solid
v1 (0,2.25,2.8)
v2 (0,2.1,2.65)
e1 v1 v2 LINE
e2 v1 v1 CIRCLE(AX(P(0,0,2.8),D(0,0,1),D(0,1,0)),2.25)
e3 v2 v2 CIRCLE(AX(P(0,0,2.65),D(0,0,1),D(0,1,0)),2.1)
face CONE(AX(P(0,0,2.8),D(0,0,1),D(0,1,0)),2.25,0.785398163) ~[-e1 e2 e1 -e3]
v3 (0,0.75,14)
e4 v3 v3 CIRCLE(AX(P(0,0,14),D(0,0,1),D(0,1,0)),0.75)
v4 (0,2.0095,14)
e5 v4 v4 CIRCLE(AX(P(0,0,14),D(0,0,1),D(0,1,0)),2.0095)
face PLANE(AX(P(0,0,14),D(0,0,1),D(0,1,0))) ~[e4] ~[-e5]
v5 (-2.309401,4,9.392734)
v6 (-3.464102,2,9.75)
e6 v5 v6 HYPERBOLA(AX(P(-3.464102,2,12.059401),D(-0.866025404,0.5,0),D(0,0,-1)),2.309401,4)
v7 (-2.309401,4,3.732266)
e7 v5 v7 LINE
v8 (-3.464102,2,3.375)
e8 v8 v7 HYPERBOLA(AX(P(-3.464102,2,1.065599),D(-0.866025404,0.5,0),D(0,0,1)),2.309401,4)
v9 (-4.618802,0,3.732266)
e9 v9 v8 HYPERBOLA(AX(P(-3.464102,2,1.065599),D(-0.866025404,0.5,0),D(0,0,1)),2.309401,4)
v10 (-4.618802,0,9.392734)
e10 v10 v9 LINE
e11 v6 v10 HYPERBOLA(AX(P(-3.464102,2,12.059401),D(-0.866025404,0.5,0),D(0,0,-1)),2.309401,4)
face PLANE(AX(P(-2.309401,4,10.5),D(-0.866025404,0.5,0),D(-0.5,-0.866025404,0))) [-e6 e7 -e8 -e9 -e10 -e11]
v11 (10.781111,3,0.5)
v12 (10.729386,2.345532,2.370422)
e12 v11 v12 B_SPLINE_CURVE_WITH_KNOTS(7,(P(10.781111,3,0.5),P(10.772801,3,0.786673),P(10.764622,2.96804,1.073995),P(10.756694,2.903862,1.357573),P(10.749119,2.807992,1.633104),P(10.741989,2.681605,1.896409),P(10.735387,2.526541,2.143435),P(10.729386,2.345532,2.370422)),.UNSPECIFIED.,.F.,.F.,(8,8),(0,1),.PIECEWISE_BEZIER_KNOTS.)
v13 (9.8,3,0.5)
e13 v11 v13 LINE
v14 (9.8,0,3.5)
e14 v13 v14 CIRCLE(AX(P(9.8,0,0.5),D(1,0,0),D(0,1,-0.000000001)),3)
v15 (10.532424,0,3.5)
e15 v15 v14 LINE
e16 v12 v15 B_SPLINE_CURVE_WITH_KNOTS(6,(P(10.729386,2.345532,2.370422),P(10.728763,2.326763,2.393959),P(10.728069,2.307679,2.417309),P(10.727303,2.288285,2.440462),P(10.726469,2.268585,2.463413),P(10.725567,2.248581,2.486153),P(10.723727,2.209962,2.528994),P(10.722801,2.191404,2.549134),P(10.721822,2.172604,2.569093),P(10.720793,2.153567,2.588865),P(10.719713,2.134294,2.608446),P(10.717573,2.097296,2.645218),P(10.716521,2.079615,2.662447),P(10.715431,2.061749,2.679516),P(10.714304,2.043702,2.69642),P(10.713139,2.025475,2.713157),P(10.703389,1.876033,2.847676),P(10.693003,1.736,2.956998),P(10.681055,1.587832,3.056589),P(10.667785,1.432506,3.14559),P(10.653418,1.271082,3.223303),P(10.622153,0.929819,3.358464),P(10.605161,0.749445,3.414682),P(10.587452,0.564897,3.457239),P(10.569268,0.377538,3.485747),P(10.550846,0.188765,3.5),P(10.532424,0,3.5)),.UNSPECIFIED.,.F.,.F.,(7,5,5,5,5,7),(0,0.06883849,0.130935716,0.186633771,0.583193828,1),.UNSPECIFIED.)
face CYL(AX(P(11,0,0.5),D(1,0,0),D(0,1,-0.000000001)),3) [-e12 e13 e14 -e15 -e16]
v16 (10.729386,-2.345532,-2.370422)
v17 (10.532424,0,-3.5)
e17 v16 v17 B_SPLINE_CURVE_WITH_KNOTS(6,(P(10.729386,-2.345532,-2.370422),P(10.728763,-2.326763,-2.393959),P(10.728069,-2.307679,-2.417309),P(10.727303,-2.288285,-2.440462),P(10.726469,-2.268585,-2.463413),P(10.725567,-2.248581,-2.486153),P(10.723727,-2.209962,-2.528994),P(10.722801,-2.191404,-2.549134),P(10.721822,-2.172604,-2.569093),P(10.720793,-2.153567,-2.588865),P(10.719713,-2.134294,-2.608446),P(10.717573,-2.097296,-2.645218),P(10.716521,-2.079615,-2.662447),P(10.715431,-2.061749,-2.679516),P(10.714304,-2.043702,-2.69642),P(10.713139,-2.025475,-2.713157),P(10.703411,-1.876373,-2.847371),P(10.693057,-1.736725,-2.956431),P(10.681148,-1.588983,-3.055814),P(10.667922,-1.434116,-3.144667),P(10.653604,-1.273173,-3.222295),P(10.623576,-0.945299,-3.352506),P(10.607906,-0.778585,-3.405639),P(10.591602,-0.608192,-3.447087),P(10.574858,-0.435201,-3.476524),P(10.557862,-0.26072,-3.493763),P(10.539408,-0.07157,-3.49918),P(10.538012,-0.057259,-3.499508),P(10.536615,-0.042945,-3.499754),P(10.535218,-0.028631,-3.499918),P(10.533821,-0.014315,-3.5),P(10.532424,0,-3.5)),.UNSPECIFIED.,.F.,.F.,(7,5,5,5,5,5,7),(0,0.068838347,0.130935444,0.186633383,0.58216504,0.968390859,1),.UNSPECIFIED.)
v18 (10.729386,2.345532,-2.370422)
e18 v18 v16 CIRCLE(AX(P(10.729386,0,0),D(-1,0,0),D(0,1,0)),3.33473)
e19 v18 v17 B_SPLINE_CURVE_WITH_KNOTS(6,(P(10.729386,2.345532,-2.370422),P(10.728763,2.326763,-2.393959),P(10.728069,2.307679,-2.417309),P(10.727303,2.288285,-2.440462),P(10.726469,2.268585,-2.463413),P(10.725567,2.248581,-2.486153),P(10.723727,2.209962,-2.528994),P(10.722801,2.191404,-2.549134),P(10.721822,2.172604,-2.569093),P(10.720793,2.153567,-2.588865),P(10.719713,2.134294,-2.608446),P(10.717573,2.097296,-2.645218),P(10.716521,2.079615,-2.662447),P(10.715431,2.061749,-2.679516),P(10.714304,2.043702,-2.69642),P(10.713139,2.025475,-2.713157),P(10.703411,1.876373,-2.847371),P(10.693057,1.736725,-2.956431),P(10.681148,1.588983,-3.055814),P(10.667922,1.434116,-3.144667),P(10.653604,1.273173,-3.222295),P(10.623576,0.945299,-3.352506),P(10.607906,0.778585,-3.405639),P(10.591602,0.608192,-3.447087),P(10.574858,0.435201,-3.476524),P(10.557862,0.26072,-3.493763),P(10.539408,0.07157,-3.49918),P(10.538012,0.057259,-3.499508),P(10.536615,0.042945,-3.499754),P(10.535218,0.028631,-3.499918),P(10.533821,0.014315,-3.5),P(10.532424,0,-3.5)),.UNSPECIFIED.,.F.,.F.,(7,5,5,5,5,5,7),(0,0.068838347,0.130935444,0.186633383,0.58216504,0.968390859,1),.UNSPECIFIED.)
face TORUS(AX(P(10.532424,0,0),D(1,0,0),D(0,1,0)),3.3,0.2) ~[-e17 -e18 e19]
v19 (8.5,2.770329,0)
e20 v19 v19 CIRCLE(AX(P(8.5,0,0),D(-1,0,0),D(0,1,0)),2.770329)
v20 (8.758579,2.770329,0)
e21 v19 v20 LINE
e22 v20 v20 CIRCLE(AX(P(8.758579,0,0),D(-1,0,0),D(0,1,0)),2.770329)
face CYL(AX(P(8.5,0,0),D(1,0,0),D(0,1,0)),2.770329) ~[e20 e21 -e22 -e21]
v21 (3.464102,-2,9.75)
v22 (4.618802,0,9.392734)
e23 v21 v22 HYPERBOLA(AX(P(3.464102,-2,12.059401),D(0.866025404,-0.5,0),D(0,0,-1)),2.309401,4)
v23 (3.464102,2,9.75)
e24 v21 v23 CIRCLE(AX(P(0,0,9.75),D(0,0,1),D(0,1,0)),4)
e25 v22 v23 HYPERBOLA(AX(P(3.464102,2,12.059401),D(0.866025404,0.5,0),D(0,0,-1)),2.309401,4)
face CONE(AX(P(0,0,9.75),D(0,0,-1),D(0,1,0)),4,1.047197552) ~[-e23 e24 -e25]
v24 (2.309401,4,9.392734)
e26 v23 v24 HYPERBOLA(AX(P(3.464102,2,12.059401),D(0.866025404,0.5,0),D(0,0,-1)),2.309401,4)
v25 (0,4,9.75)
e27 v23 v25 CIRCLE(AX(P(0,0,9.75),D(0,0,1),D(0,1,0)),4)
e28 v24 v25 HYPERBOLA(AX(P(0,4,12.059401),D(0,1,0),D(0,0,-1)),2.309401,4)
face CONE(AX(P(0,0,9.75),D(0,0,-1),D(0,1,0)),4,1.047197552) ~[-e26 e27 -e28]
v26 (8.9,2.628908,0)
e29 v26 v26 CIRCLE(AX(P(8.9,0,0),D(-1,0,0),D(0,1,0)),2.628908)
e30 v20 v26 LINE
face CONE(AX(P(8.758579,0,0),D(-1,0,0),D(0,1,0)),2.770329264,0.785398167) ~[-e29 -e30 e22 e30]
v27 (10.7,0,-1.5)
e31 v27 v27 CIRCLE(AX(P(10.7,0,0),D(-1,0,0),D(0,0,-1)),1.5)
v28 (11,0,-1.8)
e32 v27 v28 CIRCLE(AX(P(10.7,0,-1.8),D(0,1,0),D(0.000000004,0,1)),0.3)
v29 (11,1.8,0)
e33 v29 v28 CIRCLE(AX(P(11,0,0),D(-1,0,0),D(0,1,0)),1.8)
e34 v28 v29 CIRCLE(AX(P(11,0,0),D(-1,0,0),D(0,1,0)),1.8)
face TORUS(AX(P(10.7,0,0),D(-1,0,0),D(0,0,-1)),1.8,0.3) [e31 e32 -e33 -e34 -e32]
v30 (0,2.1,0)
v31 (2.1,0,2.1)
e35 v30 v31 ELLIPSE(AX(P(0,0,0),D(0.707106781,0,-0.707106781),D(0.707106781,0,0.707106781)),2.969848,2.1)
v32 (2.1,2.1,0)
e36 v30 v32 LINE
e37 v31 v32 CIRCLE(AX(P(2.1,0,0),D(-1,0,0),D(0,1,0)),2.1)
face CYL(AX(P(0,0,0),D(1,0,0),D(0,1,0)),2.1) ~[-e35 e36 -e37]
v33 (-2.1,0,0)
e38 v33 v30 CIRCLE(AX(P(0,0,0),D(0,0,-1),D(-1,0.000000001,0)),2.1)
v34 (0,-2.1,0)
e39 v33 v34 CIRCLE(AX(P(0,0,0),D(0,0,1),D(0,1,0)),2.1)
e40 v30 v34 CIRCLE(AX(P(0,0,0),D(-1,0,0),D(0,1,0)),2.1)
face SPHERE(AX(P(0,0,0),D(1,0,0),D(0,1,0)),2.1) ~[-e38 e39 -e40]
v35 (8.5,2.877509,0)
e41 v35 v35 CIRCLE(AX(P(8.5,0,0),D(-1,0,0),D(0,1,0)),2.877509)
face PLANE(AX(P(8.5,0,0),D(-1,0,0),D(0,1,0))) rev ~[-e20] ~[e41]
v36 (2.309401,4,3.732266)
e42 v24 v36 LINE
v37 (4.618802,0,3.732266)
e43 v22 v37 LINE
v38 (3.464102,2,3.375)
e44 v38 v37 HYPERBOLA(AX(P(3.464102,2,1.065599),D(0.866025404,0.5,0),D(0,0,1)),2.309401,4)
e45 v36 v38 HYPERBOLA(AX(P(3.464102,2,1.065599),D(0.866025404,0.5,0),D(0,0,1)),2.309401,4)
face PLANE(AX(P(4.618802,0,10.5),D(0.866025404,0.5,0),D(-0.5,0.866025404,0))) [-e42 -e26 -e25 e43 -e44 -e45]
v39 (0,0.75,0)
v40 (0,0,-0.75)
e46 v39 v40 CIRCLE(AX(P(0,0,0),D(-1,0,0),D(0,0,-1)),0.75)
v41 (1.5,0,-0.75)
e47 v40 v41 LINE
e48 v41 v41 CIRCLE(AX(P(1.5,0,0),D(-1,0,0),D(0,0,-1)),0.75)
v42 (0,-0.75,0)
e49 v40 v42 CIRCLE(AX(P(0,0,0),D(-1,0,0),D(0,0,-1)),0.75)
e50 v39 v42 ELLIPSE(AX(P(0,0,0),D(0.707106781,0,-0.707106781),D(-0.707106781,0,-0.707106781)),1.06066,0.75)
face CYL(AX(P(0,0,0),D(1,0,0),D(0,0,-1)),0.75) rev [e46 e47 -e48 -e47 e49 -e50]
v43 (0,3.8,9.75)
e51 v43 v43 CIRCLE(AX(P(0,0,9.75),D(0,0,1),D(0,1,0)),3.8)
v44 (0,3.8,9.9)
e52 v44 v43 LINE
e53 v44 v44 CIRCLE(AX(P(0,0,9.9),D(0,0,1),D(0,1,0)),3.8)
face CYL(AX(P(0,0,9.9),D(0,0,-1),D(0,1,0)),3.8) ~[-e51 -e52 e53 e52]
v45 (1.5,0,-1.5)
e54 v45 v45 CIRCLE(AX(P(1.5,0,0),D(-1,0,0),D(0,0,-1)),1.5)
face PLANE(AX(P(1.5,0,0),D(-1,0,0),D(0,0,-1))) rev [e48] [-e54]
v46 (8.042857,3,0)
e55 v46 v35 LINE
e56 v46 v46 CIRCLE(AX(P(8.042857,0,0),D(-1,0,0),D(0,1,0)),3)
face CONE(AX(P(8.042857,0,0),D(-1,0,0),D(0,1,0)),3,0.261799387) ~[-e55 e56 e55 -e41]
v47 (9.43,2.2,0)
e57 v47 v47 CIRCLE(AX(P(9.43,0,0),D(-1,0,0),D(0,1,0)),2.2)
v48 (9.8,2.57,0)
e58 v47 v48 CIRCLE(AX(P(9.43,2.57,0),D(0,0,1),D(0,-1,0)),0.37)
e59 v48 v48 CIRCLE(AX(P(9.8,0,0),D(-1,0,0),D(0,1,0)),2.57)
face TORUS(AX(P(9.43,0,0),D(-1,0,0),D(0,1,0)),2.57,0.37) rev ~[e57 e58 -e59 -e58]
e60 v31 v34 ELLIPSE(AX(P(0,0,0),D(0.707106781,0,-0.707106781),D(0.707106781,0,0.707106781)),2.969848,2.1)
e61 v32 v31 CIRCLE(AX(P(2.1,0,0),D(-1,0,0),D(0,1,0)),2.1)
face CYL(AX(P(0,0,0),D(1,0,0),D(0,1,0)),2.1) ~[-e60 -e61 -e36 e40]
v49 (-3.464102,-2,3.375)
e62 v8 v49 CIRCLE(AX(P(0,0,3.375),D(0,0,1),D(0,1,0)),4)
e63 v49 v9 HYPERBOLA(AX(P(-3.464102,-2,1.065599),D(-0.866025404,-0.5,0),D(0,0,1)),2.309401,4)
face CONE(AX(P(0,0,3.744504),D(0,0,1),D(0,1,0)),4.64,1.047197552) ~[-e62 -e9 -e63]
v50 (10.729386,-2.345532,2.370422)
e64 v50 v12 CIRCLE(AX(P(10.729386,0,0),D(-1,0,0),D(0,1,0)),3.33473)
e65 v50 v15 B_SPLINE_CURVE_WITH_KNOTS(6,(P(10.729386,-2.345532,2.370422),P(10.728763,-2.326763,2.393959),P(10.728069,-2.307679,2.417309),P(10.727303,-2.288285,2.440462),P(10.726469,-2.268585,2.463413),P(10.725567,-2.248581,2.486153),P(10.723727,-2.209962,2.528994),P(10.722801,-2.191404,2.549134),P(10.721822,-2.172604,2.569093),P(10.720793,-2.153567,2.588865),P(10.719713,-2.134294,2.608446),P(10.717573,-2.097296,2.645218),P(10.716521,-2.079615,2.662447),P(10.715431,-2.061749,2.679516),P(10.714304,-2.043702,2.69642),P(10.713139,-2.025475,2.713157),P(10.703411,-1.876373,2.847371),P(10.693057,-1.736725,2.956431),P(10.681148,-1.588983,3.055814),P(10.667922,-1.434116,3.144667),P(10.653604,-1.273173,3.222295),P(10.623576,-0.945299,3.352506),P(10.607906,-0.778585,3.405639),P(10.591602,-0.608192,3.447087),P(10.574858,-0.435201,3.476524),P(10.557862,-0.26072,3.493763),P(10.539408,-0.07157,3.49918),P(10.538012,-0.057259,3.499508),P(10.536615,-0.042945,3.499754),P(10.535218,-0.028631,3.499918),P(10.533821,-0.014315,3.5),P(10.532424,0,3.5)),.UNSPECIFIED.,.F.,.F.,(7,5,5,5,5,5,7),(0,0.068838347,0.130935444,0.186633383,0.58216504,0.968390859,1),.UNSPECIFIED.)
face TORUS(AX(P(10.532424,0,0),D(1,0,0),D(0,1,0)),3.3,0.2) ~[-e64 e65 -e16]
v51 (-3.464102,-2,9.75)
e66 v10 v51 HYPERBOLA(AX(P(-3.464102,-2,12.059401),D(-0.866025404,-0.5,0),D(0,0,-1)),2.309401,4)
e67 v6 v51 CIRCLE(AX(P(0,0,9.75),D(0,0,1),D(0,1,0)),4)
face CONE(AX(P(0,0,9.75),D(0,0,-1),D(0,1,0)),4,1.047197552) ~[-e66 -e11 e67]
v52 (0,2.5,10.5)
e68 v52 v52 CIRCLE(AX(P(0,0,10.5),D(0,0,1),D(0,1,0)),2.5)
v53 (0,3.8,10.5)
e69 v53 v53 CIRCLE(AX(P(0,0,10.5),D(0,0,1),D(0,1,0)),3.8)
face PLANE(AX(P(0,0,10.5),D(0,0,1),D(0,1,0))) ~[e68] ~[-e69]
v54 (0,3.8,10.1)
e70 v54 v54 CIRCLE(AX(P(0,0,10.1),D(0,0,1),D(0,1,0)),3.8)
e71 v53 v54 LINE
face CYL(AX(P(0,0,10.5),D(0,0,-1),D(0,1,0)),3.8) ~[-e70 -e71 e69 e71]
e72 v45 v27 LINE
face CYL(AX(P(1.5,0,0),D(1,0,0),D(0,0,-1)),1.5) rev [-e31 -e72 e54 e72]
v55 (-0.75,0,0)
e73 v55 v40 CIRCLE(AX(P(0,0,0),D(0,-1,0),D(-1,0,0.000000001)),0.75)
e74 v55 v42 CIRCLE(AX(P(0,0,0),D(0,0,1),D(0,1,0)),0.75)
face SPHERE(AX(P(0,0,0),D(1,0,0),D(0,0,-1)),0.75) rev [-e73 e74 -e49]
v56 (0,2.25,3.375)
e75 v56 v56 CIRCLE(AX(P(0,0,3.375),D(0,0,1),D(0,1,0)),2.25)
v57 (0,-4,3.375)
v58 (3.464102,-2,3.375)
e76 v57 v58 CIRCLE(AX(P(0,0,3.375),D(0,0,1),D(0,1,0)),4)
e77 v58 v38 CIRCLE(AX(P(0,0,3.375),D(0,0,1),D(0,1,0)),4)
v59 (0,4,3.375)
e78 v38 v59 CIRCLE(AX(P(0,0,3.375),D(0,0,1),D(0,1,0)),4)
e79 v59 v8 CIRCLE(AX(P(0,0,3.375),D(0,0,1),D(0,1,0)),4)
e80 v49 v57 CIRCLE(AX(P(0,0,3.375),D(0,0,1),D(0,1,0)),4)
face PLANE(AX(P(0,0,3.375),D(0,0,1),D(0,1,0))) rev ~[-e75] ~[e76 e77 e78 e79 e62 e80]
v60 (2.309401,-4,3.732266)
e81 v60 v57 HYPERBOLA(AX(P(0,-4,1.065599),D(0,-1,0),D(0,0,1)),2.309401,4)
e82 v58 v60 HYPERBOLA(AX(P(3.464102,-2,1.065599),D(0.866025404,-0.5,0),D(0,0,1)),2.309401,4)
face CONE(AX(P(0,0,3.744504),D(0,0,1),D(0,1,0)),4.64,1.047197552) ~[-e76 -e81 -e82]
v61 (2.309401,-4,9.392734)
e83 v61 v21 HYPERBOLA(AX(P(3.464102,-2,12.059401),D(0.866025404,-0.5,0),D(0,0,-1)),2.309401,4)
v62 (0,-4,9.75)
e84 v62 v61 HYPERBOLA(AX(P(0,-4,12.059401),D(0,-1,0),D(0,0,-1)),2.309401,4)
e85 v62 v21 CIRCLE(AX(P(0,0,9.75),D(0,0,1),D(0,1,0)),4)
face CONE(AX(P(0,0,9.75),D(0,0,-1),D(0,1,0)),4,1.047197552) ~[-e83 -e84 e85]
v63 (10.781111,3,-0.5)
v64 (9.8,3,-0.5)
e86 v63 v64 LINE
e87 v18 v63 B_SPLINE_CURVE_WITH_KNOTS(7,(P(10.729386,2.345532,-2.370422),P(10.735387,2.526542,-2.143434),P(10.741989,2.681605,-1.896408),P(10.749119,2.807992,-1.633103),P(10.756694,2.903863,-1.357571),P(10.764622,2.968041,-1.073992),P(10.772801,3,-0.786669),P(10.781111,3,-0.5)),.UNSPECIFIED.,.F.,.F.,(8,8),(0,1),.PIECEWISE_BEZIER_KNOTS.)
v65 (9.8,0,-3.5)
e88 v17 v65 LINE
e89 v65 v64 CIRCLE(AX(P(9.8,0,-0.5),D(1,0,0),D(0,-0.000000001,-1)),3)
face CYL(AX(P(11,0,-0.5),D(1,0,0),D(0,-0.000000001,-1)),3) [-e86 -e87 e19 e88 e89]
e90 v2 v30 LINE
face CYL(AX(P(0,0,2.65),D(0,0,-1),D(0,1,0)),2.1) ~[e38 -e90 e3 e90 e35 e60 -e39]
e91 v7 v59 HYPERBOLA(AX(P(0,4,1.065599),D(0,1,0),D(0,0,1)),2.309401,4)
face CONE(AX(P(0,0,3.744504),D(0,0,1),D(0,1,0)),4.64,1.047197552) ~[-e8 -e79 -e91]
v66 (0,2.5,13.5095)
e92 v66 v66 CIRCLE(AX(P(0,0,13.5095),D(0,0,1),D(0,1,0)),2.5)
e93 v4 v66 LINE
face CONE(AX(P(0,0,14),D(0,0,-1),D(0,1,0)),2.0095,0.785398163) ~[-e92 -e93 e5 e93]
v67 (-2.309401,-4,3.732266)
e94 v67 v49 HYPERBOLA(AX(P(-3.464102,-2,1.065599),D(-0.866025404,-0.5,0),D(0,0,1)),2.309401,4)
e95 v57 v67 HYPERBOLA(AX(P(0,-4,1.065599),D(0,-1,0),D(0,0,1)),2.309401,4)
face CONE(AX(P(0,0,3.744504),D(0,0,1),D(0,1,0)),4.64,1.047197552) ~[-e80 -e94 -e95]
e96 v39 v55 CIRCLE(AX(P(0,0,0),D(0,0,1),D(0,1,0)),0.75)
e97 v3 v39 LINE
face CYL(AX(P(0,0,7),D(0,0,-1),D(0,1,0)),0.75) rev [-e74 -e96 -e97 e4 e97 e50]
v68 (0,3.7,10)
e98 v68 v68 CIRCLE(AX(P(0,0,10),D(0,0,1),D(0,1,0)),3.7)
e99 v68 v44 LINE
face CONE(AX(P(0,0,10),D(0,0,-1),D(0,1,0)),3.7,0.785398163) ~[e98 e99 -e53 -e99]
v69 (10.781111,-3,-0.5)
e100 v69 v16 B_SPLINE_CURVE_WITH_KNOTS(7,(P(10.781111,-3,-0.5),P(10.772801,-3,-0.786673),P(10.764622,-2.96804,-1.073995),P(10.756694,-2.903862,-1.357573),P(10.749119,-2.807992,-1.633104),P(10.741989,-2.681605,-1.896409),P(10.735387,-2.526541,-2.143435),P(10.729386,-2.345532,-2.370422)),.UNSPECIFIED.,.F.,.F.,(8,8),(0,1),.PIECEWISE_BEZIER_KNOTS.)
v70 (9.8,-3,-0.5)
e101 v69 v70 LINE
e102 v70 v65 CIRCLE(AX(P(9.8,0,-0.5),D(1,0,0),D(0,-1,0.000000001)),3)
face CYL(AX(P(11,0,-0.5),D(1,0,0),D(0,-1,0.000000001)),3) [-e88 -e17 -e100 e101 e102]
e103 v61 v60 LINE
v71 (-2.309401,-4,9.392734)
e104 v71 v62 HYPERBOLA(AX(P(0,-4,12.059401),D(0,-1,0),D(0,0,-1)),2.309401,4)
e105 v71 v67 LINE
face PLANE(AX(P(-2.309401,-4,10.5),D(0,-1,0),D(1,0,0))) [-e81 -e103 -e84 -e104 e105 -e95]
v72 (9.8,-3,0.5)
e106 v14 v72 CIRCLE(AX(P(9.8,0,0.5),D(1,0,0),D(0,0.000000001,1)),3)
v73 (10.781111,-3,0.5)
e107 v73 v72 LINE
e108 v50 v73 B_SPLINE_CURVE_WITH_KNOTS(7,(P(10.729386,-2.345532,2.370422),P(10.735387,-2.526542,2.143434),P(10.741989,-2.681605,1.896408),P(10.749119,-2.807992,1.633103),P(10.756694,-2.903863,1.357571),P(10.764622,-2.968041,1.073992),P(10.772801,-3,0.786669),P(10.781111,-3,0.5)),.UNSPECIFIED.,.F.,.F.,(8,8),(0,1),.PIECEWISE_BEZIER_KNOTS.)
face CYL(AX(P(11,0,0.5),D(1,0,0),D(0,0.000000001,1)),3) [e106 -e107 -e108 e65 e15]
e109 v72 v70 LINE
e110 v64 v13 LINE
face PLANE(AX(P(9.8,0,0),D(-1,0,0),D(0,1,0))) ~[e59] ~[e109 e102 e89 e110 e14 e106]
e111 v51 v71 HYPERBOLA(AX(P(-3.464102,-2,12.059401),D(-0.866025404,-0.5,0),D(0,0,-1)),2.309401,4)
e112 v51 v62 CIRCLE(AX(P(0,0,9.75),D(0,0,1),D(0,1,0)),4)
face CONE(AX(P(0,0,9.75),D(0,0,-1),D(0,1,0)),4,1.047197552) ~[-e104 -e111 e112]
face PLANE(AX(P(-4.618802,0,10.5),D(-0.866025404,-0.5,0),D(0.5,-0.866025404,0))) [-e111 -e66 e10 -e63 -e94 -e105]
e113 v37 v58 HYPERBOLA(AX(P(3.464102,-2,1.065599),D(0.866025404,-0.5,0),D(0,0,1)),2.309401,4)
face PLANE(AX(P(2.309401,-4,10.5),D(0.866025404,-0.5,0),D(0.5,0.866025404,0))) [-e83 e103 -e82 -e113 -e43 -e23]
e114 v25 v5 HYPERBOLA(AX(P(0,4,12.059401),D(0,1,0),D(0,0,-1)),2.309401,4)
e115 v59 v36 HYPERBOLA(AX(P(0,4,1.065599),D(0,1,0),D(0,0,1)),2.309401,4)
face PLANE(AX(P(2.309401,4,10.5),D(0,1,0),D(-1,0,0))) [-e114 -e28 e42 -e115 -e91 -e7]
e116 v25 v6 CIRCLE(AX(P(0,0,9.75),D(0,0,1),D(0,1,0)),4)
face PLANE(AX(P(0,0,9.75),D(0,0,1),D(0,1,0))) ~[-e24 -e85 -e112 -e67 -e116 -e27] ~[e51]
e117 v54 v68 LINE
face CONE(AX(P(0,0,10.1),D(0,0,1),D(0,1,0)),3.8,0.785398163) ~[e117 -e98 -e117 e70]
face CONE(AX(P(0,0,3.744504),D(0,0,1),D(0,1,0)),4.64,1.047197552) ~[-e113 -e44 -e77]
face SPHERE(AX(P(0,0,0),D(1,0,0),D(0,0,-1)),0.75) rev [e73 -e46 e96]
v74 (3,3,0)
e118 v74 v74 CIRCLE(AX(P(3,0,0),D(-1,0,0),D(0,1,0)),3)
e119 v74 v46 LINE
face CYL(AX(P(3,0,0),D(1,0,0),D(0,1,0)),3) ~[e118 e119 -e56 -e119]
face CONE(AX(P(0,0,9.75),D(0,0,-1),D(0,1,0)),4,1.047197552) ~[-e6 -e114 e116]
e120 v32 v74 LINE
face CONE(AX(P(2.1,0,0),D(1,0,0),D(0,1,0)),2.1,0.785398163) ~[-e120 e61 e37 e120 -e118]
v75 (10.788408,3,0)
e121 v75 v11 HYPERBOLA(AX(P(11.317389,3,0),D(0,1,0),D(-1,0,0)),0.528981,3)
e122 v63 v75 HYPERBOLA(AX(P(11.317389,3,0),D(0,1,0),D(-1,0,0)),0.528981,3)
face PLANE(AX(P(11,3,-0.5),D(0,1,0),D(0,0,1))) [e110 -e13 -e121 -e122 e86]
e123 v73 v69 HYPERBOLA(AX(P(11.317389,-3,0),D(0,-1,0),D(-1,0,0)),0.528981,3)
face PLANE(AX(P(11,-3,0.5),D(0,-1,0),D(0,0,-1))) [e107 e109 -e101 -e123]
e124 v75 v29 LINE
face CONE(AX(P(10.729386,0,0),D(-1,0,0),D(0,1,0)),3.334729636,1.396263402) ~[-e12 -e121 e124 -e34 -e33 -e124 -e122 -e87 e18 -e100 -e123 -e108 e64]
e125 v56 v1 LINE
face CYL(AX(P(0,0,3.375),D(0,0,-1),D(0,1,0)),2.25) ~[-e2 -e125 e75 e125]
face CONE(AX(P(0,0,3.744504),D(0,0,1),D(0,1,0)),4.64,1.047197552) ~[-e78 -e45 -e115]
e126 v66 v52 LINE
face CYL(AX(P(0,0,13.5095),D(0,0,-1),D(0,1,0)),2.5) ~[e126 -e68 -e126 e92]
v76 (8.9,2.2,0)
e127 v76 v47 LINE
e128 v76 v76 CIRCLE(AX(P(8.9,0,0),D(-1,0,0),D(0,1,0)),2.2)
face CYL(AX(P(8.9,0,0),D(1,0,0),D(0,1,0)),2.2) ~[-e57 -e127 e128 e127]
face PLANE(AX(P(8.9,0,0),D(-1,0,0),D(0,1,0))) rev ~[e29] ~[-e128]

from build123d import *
from build123d.topology import SkipClean

# Parameters (mm, degrees)
LINEAR_AUSTRAGEN1_DEPTH = 1.2
SKIZZE6_W               = 14
SKIZZE6_H               = 0.75
SKIZZE7_W               = 16
SKIZZE7_H               = 16
LINEAR_AUSTRAGEN2_DEPTH = 7.166666667


with BuildPart() as part:
    # Skizze1 → Rotation1 (revolve)
    with BuildSketch(Plane.XY):
        with BuildLine():
            Line((0, 2.1), (2.1, 2.1))
            Line((2.1, 2.1), (3, 3))
            Line((3, 3), (8.042857143, 3))
            Line((8.042857143, 3), (8.5, 2.877508941))
            Line((8.5, 2.877508941), (8.5, 2.770329264))
            Line((8.5, 2.770329264), (8.758578644, 2.770329264))
            Line((8.758578644, 2.770329264), (8.9, 2.628907907))
            Line((8.9, 2.628907907), (8.9, 2.2))
            Line((8.9, 2.2), (9.43, 2.2))
            ThreePointArc((9.43, 2.2), (9.691629509, 2.308370491), (9.8, 2.57))
            Line((9.8, 2.57), (9.8, 3.5))
            Line((9.8, 3.5), (10.532424207, 3.5))
            ThreePointArc((10.532424207, 3.5), (10.660981728, 3.453208889), (10.729385757, 3.334729636))
            Line((10.729385757, 3.334729636), (11, 1.8))
            Line((11, 1.8), (11, 0))
            Line((11, 0), (-2.1, 0))
            ThreePointArc((-2.1, 0), (-1.48492424, 1.48492424), (0, 2.1))
        make_face()
    revolve(axis=Axis((11, 0, 0), (-1, 0, 0)))

    # Skizze2 → Rotation2 (revolve)
    with SkipClean():  # the faces are left unmerged after this step: merging them gives an invalid solid
        with BuildSketch(Plane(origin=(0, 0, 0), x_dir=(0, 0, -1), z_dir=(1, 0, 0))):
            Polygon((-10.5, 0), (-10.5, 3.8), (-10.1, 3.8), (-10, 3.7), (-9.9, 3.8), (-9.75, 3.8), (-9.75, 4), (-9.380495828, 4.64), (-3.744504172, 4.64), (-3.375, 4), (-3.375, 2.25), (-2.8, 2.25), (-2.65, 2.1), (0, 2.1), (0, 0), align=None)
        revolve(axis=Axis((0, 0, 0), (0, 0, 1)))

    # Skizze3 → Rotation3 (revolve)
    with SkipClean():  # the faces are left unmerged after this step: merging them gives an invalid solid
        with BuildSketch(Plane(origin=(0, 0, 0), x_dir=(0, 0, -1), z_dir=(1, 0, 0))):
            Polygon((-14, 0), (-14, 2.0095), (-13.5095, 2.5), (-10.5, 2.5), (-10.5, 0), align=None)
        revolve(axis=Axis((0, 0, 10.5), (0, 0, 1)))

    # Skizze4 → Linear austragen1 (cut)
    with SkipClean():  # the faces are left unmerged after this step: merging them gives an invalid solid
        with BuildSketch(Plane(origin=(11, 0, 0), x_dir=(0, 0, -1), z_dir=(1, 0, 0))):
            Polygon((-4.2, 2.424871131), (-4.2, -2.424871131), (0, -4.849742261), (4.2, -2.424871131), (4.2, 2.424871131), (0, 4.849742261), align=None)
            with BuildLine():
                Line((-0.5, -3), (0.5, -3))
                ThreePointArc((0.5, -3), (2.621320344, -2.121320344), (3.5, 0))
                ThreePointArc((3.5, 0), (2.621320344, 2.121320344), (0.5, 3))
                Line((0.5, 3), (-0.5, 3))
                ThreePointArc((-0.5, 3), (-2.621320344, 2.121320344), (-3.5, 0))
                ThreePointArc((-3.5, 0), (-2.621320344, -2.121320344), (-0.5, -3))
            make_face(mode=Mode.SUBTRACT)
        extrude(amount=-LINEAR_AUSTRAGEN1_DEPTH, mode=Mode.SUBTRACT)

    # Skizze6 → Schnitt-Rotation1 (revolve, cut)
    with SkipClean():  # the faces are left unmerged after this step: merging them gives an invalid solid
        with BuildSketch(Plane(origin=(0, 0, 0), x_dir=(0, 0, -1), z_dir=(1, 0, 0))):
            with Locations((-7, 0.375)):
                Rectangle(SKIZZE6_W, SKIZZE6_H)
        revolve(axis=Axis((0, 0, 0), (0, 0, 1)), mode=Mode.SUBTRACT)

    # Skizze5 → Schnitt-Rotation2 (revolve, cut)
    with SkipClean():  # the faces are left unmerged after this step: merging them gives an invalid solid
        with BuildSketch(Plane(origin=(0, 0, 0), x_dir=(1, 0, 0), z_dir=(0, 1, 0))):
            with BuildLine():
                Line((0, 0.75), (1.5, 0.75))
                Line((1.5, 0.75), (1.5, 1.5))
                Line((1.5, 1.5), (10.7, 1.5))
                ThreePointArc((10.7, 1.5), (10.912132034, 1.587867966), (11, 1.8))
                Line((11, 1.8), (11, 0))
                Line((11, 0), (-0.75, 0))
                ThreePointArc((-0.75, 0), (-0.530330086, 0.530330086), (0, 0.75))
            make_face()
        revolve(axis=Axis((11, 0, 0), (-1, 0, 0)), mode=Mode.SUBTRACT)

    # Skizze7 → Linear austragen2 (cut)
    with SkipClean():  # the faces are left unmerged after this step: merging them gives an invalid solid
        with BuildSketch(Plane.XY.offset(10.5)):
            Rectangle(SKIZZE7_W, SKIZZE7_H)
            Polygon((-4.618802154, 0), (-2.309401077, -4), (2.309401077, -4), (4.618802154, 0), (2.309401077, 4), (-2.309401077, 4), align=None, mode=Mode.SUBTRACT)
        extrude(amount=-LINEAR_AUSTRAGEN2_DEPTH, mode=Mode.SUBTRACT)


solid = part.part
